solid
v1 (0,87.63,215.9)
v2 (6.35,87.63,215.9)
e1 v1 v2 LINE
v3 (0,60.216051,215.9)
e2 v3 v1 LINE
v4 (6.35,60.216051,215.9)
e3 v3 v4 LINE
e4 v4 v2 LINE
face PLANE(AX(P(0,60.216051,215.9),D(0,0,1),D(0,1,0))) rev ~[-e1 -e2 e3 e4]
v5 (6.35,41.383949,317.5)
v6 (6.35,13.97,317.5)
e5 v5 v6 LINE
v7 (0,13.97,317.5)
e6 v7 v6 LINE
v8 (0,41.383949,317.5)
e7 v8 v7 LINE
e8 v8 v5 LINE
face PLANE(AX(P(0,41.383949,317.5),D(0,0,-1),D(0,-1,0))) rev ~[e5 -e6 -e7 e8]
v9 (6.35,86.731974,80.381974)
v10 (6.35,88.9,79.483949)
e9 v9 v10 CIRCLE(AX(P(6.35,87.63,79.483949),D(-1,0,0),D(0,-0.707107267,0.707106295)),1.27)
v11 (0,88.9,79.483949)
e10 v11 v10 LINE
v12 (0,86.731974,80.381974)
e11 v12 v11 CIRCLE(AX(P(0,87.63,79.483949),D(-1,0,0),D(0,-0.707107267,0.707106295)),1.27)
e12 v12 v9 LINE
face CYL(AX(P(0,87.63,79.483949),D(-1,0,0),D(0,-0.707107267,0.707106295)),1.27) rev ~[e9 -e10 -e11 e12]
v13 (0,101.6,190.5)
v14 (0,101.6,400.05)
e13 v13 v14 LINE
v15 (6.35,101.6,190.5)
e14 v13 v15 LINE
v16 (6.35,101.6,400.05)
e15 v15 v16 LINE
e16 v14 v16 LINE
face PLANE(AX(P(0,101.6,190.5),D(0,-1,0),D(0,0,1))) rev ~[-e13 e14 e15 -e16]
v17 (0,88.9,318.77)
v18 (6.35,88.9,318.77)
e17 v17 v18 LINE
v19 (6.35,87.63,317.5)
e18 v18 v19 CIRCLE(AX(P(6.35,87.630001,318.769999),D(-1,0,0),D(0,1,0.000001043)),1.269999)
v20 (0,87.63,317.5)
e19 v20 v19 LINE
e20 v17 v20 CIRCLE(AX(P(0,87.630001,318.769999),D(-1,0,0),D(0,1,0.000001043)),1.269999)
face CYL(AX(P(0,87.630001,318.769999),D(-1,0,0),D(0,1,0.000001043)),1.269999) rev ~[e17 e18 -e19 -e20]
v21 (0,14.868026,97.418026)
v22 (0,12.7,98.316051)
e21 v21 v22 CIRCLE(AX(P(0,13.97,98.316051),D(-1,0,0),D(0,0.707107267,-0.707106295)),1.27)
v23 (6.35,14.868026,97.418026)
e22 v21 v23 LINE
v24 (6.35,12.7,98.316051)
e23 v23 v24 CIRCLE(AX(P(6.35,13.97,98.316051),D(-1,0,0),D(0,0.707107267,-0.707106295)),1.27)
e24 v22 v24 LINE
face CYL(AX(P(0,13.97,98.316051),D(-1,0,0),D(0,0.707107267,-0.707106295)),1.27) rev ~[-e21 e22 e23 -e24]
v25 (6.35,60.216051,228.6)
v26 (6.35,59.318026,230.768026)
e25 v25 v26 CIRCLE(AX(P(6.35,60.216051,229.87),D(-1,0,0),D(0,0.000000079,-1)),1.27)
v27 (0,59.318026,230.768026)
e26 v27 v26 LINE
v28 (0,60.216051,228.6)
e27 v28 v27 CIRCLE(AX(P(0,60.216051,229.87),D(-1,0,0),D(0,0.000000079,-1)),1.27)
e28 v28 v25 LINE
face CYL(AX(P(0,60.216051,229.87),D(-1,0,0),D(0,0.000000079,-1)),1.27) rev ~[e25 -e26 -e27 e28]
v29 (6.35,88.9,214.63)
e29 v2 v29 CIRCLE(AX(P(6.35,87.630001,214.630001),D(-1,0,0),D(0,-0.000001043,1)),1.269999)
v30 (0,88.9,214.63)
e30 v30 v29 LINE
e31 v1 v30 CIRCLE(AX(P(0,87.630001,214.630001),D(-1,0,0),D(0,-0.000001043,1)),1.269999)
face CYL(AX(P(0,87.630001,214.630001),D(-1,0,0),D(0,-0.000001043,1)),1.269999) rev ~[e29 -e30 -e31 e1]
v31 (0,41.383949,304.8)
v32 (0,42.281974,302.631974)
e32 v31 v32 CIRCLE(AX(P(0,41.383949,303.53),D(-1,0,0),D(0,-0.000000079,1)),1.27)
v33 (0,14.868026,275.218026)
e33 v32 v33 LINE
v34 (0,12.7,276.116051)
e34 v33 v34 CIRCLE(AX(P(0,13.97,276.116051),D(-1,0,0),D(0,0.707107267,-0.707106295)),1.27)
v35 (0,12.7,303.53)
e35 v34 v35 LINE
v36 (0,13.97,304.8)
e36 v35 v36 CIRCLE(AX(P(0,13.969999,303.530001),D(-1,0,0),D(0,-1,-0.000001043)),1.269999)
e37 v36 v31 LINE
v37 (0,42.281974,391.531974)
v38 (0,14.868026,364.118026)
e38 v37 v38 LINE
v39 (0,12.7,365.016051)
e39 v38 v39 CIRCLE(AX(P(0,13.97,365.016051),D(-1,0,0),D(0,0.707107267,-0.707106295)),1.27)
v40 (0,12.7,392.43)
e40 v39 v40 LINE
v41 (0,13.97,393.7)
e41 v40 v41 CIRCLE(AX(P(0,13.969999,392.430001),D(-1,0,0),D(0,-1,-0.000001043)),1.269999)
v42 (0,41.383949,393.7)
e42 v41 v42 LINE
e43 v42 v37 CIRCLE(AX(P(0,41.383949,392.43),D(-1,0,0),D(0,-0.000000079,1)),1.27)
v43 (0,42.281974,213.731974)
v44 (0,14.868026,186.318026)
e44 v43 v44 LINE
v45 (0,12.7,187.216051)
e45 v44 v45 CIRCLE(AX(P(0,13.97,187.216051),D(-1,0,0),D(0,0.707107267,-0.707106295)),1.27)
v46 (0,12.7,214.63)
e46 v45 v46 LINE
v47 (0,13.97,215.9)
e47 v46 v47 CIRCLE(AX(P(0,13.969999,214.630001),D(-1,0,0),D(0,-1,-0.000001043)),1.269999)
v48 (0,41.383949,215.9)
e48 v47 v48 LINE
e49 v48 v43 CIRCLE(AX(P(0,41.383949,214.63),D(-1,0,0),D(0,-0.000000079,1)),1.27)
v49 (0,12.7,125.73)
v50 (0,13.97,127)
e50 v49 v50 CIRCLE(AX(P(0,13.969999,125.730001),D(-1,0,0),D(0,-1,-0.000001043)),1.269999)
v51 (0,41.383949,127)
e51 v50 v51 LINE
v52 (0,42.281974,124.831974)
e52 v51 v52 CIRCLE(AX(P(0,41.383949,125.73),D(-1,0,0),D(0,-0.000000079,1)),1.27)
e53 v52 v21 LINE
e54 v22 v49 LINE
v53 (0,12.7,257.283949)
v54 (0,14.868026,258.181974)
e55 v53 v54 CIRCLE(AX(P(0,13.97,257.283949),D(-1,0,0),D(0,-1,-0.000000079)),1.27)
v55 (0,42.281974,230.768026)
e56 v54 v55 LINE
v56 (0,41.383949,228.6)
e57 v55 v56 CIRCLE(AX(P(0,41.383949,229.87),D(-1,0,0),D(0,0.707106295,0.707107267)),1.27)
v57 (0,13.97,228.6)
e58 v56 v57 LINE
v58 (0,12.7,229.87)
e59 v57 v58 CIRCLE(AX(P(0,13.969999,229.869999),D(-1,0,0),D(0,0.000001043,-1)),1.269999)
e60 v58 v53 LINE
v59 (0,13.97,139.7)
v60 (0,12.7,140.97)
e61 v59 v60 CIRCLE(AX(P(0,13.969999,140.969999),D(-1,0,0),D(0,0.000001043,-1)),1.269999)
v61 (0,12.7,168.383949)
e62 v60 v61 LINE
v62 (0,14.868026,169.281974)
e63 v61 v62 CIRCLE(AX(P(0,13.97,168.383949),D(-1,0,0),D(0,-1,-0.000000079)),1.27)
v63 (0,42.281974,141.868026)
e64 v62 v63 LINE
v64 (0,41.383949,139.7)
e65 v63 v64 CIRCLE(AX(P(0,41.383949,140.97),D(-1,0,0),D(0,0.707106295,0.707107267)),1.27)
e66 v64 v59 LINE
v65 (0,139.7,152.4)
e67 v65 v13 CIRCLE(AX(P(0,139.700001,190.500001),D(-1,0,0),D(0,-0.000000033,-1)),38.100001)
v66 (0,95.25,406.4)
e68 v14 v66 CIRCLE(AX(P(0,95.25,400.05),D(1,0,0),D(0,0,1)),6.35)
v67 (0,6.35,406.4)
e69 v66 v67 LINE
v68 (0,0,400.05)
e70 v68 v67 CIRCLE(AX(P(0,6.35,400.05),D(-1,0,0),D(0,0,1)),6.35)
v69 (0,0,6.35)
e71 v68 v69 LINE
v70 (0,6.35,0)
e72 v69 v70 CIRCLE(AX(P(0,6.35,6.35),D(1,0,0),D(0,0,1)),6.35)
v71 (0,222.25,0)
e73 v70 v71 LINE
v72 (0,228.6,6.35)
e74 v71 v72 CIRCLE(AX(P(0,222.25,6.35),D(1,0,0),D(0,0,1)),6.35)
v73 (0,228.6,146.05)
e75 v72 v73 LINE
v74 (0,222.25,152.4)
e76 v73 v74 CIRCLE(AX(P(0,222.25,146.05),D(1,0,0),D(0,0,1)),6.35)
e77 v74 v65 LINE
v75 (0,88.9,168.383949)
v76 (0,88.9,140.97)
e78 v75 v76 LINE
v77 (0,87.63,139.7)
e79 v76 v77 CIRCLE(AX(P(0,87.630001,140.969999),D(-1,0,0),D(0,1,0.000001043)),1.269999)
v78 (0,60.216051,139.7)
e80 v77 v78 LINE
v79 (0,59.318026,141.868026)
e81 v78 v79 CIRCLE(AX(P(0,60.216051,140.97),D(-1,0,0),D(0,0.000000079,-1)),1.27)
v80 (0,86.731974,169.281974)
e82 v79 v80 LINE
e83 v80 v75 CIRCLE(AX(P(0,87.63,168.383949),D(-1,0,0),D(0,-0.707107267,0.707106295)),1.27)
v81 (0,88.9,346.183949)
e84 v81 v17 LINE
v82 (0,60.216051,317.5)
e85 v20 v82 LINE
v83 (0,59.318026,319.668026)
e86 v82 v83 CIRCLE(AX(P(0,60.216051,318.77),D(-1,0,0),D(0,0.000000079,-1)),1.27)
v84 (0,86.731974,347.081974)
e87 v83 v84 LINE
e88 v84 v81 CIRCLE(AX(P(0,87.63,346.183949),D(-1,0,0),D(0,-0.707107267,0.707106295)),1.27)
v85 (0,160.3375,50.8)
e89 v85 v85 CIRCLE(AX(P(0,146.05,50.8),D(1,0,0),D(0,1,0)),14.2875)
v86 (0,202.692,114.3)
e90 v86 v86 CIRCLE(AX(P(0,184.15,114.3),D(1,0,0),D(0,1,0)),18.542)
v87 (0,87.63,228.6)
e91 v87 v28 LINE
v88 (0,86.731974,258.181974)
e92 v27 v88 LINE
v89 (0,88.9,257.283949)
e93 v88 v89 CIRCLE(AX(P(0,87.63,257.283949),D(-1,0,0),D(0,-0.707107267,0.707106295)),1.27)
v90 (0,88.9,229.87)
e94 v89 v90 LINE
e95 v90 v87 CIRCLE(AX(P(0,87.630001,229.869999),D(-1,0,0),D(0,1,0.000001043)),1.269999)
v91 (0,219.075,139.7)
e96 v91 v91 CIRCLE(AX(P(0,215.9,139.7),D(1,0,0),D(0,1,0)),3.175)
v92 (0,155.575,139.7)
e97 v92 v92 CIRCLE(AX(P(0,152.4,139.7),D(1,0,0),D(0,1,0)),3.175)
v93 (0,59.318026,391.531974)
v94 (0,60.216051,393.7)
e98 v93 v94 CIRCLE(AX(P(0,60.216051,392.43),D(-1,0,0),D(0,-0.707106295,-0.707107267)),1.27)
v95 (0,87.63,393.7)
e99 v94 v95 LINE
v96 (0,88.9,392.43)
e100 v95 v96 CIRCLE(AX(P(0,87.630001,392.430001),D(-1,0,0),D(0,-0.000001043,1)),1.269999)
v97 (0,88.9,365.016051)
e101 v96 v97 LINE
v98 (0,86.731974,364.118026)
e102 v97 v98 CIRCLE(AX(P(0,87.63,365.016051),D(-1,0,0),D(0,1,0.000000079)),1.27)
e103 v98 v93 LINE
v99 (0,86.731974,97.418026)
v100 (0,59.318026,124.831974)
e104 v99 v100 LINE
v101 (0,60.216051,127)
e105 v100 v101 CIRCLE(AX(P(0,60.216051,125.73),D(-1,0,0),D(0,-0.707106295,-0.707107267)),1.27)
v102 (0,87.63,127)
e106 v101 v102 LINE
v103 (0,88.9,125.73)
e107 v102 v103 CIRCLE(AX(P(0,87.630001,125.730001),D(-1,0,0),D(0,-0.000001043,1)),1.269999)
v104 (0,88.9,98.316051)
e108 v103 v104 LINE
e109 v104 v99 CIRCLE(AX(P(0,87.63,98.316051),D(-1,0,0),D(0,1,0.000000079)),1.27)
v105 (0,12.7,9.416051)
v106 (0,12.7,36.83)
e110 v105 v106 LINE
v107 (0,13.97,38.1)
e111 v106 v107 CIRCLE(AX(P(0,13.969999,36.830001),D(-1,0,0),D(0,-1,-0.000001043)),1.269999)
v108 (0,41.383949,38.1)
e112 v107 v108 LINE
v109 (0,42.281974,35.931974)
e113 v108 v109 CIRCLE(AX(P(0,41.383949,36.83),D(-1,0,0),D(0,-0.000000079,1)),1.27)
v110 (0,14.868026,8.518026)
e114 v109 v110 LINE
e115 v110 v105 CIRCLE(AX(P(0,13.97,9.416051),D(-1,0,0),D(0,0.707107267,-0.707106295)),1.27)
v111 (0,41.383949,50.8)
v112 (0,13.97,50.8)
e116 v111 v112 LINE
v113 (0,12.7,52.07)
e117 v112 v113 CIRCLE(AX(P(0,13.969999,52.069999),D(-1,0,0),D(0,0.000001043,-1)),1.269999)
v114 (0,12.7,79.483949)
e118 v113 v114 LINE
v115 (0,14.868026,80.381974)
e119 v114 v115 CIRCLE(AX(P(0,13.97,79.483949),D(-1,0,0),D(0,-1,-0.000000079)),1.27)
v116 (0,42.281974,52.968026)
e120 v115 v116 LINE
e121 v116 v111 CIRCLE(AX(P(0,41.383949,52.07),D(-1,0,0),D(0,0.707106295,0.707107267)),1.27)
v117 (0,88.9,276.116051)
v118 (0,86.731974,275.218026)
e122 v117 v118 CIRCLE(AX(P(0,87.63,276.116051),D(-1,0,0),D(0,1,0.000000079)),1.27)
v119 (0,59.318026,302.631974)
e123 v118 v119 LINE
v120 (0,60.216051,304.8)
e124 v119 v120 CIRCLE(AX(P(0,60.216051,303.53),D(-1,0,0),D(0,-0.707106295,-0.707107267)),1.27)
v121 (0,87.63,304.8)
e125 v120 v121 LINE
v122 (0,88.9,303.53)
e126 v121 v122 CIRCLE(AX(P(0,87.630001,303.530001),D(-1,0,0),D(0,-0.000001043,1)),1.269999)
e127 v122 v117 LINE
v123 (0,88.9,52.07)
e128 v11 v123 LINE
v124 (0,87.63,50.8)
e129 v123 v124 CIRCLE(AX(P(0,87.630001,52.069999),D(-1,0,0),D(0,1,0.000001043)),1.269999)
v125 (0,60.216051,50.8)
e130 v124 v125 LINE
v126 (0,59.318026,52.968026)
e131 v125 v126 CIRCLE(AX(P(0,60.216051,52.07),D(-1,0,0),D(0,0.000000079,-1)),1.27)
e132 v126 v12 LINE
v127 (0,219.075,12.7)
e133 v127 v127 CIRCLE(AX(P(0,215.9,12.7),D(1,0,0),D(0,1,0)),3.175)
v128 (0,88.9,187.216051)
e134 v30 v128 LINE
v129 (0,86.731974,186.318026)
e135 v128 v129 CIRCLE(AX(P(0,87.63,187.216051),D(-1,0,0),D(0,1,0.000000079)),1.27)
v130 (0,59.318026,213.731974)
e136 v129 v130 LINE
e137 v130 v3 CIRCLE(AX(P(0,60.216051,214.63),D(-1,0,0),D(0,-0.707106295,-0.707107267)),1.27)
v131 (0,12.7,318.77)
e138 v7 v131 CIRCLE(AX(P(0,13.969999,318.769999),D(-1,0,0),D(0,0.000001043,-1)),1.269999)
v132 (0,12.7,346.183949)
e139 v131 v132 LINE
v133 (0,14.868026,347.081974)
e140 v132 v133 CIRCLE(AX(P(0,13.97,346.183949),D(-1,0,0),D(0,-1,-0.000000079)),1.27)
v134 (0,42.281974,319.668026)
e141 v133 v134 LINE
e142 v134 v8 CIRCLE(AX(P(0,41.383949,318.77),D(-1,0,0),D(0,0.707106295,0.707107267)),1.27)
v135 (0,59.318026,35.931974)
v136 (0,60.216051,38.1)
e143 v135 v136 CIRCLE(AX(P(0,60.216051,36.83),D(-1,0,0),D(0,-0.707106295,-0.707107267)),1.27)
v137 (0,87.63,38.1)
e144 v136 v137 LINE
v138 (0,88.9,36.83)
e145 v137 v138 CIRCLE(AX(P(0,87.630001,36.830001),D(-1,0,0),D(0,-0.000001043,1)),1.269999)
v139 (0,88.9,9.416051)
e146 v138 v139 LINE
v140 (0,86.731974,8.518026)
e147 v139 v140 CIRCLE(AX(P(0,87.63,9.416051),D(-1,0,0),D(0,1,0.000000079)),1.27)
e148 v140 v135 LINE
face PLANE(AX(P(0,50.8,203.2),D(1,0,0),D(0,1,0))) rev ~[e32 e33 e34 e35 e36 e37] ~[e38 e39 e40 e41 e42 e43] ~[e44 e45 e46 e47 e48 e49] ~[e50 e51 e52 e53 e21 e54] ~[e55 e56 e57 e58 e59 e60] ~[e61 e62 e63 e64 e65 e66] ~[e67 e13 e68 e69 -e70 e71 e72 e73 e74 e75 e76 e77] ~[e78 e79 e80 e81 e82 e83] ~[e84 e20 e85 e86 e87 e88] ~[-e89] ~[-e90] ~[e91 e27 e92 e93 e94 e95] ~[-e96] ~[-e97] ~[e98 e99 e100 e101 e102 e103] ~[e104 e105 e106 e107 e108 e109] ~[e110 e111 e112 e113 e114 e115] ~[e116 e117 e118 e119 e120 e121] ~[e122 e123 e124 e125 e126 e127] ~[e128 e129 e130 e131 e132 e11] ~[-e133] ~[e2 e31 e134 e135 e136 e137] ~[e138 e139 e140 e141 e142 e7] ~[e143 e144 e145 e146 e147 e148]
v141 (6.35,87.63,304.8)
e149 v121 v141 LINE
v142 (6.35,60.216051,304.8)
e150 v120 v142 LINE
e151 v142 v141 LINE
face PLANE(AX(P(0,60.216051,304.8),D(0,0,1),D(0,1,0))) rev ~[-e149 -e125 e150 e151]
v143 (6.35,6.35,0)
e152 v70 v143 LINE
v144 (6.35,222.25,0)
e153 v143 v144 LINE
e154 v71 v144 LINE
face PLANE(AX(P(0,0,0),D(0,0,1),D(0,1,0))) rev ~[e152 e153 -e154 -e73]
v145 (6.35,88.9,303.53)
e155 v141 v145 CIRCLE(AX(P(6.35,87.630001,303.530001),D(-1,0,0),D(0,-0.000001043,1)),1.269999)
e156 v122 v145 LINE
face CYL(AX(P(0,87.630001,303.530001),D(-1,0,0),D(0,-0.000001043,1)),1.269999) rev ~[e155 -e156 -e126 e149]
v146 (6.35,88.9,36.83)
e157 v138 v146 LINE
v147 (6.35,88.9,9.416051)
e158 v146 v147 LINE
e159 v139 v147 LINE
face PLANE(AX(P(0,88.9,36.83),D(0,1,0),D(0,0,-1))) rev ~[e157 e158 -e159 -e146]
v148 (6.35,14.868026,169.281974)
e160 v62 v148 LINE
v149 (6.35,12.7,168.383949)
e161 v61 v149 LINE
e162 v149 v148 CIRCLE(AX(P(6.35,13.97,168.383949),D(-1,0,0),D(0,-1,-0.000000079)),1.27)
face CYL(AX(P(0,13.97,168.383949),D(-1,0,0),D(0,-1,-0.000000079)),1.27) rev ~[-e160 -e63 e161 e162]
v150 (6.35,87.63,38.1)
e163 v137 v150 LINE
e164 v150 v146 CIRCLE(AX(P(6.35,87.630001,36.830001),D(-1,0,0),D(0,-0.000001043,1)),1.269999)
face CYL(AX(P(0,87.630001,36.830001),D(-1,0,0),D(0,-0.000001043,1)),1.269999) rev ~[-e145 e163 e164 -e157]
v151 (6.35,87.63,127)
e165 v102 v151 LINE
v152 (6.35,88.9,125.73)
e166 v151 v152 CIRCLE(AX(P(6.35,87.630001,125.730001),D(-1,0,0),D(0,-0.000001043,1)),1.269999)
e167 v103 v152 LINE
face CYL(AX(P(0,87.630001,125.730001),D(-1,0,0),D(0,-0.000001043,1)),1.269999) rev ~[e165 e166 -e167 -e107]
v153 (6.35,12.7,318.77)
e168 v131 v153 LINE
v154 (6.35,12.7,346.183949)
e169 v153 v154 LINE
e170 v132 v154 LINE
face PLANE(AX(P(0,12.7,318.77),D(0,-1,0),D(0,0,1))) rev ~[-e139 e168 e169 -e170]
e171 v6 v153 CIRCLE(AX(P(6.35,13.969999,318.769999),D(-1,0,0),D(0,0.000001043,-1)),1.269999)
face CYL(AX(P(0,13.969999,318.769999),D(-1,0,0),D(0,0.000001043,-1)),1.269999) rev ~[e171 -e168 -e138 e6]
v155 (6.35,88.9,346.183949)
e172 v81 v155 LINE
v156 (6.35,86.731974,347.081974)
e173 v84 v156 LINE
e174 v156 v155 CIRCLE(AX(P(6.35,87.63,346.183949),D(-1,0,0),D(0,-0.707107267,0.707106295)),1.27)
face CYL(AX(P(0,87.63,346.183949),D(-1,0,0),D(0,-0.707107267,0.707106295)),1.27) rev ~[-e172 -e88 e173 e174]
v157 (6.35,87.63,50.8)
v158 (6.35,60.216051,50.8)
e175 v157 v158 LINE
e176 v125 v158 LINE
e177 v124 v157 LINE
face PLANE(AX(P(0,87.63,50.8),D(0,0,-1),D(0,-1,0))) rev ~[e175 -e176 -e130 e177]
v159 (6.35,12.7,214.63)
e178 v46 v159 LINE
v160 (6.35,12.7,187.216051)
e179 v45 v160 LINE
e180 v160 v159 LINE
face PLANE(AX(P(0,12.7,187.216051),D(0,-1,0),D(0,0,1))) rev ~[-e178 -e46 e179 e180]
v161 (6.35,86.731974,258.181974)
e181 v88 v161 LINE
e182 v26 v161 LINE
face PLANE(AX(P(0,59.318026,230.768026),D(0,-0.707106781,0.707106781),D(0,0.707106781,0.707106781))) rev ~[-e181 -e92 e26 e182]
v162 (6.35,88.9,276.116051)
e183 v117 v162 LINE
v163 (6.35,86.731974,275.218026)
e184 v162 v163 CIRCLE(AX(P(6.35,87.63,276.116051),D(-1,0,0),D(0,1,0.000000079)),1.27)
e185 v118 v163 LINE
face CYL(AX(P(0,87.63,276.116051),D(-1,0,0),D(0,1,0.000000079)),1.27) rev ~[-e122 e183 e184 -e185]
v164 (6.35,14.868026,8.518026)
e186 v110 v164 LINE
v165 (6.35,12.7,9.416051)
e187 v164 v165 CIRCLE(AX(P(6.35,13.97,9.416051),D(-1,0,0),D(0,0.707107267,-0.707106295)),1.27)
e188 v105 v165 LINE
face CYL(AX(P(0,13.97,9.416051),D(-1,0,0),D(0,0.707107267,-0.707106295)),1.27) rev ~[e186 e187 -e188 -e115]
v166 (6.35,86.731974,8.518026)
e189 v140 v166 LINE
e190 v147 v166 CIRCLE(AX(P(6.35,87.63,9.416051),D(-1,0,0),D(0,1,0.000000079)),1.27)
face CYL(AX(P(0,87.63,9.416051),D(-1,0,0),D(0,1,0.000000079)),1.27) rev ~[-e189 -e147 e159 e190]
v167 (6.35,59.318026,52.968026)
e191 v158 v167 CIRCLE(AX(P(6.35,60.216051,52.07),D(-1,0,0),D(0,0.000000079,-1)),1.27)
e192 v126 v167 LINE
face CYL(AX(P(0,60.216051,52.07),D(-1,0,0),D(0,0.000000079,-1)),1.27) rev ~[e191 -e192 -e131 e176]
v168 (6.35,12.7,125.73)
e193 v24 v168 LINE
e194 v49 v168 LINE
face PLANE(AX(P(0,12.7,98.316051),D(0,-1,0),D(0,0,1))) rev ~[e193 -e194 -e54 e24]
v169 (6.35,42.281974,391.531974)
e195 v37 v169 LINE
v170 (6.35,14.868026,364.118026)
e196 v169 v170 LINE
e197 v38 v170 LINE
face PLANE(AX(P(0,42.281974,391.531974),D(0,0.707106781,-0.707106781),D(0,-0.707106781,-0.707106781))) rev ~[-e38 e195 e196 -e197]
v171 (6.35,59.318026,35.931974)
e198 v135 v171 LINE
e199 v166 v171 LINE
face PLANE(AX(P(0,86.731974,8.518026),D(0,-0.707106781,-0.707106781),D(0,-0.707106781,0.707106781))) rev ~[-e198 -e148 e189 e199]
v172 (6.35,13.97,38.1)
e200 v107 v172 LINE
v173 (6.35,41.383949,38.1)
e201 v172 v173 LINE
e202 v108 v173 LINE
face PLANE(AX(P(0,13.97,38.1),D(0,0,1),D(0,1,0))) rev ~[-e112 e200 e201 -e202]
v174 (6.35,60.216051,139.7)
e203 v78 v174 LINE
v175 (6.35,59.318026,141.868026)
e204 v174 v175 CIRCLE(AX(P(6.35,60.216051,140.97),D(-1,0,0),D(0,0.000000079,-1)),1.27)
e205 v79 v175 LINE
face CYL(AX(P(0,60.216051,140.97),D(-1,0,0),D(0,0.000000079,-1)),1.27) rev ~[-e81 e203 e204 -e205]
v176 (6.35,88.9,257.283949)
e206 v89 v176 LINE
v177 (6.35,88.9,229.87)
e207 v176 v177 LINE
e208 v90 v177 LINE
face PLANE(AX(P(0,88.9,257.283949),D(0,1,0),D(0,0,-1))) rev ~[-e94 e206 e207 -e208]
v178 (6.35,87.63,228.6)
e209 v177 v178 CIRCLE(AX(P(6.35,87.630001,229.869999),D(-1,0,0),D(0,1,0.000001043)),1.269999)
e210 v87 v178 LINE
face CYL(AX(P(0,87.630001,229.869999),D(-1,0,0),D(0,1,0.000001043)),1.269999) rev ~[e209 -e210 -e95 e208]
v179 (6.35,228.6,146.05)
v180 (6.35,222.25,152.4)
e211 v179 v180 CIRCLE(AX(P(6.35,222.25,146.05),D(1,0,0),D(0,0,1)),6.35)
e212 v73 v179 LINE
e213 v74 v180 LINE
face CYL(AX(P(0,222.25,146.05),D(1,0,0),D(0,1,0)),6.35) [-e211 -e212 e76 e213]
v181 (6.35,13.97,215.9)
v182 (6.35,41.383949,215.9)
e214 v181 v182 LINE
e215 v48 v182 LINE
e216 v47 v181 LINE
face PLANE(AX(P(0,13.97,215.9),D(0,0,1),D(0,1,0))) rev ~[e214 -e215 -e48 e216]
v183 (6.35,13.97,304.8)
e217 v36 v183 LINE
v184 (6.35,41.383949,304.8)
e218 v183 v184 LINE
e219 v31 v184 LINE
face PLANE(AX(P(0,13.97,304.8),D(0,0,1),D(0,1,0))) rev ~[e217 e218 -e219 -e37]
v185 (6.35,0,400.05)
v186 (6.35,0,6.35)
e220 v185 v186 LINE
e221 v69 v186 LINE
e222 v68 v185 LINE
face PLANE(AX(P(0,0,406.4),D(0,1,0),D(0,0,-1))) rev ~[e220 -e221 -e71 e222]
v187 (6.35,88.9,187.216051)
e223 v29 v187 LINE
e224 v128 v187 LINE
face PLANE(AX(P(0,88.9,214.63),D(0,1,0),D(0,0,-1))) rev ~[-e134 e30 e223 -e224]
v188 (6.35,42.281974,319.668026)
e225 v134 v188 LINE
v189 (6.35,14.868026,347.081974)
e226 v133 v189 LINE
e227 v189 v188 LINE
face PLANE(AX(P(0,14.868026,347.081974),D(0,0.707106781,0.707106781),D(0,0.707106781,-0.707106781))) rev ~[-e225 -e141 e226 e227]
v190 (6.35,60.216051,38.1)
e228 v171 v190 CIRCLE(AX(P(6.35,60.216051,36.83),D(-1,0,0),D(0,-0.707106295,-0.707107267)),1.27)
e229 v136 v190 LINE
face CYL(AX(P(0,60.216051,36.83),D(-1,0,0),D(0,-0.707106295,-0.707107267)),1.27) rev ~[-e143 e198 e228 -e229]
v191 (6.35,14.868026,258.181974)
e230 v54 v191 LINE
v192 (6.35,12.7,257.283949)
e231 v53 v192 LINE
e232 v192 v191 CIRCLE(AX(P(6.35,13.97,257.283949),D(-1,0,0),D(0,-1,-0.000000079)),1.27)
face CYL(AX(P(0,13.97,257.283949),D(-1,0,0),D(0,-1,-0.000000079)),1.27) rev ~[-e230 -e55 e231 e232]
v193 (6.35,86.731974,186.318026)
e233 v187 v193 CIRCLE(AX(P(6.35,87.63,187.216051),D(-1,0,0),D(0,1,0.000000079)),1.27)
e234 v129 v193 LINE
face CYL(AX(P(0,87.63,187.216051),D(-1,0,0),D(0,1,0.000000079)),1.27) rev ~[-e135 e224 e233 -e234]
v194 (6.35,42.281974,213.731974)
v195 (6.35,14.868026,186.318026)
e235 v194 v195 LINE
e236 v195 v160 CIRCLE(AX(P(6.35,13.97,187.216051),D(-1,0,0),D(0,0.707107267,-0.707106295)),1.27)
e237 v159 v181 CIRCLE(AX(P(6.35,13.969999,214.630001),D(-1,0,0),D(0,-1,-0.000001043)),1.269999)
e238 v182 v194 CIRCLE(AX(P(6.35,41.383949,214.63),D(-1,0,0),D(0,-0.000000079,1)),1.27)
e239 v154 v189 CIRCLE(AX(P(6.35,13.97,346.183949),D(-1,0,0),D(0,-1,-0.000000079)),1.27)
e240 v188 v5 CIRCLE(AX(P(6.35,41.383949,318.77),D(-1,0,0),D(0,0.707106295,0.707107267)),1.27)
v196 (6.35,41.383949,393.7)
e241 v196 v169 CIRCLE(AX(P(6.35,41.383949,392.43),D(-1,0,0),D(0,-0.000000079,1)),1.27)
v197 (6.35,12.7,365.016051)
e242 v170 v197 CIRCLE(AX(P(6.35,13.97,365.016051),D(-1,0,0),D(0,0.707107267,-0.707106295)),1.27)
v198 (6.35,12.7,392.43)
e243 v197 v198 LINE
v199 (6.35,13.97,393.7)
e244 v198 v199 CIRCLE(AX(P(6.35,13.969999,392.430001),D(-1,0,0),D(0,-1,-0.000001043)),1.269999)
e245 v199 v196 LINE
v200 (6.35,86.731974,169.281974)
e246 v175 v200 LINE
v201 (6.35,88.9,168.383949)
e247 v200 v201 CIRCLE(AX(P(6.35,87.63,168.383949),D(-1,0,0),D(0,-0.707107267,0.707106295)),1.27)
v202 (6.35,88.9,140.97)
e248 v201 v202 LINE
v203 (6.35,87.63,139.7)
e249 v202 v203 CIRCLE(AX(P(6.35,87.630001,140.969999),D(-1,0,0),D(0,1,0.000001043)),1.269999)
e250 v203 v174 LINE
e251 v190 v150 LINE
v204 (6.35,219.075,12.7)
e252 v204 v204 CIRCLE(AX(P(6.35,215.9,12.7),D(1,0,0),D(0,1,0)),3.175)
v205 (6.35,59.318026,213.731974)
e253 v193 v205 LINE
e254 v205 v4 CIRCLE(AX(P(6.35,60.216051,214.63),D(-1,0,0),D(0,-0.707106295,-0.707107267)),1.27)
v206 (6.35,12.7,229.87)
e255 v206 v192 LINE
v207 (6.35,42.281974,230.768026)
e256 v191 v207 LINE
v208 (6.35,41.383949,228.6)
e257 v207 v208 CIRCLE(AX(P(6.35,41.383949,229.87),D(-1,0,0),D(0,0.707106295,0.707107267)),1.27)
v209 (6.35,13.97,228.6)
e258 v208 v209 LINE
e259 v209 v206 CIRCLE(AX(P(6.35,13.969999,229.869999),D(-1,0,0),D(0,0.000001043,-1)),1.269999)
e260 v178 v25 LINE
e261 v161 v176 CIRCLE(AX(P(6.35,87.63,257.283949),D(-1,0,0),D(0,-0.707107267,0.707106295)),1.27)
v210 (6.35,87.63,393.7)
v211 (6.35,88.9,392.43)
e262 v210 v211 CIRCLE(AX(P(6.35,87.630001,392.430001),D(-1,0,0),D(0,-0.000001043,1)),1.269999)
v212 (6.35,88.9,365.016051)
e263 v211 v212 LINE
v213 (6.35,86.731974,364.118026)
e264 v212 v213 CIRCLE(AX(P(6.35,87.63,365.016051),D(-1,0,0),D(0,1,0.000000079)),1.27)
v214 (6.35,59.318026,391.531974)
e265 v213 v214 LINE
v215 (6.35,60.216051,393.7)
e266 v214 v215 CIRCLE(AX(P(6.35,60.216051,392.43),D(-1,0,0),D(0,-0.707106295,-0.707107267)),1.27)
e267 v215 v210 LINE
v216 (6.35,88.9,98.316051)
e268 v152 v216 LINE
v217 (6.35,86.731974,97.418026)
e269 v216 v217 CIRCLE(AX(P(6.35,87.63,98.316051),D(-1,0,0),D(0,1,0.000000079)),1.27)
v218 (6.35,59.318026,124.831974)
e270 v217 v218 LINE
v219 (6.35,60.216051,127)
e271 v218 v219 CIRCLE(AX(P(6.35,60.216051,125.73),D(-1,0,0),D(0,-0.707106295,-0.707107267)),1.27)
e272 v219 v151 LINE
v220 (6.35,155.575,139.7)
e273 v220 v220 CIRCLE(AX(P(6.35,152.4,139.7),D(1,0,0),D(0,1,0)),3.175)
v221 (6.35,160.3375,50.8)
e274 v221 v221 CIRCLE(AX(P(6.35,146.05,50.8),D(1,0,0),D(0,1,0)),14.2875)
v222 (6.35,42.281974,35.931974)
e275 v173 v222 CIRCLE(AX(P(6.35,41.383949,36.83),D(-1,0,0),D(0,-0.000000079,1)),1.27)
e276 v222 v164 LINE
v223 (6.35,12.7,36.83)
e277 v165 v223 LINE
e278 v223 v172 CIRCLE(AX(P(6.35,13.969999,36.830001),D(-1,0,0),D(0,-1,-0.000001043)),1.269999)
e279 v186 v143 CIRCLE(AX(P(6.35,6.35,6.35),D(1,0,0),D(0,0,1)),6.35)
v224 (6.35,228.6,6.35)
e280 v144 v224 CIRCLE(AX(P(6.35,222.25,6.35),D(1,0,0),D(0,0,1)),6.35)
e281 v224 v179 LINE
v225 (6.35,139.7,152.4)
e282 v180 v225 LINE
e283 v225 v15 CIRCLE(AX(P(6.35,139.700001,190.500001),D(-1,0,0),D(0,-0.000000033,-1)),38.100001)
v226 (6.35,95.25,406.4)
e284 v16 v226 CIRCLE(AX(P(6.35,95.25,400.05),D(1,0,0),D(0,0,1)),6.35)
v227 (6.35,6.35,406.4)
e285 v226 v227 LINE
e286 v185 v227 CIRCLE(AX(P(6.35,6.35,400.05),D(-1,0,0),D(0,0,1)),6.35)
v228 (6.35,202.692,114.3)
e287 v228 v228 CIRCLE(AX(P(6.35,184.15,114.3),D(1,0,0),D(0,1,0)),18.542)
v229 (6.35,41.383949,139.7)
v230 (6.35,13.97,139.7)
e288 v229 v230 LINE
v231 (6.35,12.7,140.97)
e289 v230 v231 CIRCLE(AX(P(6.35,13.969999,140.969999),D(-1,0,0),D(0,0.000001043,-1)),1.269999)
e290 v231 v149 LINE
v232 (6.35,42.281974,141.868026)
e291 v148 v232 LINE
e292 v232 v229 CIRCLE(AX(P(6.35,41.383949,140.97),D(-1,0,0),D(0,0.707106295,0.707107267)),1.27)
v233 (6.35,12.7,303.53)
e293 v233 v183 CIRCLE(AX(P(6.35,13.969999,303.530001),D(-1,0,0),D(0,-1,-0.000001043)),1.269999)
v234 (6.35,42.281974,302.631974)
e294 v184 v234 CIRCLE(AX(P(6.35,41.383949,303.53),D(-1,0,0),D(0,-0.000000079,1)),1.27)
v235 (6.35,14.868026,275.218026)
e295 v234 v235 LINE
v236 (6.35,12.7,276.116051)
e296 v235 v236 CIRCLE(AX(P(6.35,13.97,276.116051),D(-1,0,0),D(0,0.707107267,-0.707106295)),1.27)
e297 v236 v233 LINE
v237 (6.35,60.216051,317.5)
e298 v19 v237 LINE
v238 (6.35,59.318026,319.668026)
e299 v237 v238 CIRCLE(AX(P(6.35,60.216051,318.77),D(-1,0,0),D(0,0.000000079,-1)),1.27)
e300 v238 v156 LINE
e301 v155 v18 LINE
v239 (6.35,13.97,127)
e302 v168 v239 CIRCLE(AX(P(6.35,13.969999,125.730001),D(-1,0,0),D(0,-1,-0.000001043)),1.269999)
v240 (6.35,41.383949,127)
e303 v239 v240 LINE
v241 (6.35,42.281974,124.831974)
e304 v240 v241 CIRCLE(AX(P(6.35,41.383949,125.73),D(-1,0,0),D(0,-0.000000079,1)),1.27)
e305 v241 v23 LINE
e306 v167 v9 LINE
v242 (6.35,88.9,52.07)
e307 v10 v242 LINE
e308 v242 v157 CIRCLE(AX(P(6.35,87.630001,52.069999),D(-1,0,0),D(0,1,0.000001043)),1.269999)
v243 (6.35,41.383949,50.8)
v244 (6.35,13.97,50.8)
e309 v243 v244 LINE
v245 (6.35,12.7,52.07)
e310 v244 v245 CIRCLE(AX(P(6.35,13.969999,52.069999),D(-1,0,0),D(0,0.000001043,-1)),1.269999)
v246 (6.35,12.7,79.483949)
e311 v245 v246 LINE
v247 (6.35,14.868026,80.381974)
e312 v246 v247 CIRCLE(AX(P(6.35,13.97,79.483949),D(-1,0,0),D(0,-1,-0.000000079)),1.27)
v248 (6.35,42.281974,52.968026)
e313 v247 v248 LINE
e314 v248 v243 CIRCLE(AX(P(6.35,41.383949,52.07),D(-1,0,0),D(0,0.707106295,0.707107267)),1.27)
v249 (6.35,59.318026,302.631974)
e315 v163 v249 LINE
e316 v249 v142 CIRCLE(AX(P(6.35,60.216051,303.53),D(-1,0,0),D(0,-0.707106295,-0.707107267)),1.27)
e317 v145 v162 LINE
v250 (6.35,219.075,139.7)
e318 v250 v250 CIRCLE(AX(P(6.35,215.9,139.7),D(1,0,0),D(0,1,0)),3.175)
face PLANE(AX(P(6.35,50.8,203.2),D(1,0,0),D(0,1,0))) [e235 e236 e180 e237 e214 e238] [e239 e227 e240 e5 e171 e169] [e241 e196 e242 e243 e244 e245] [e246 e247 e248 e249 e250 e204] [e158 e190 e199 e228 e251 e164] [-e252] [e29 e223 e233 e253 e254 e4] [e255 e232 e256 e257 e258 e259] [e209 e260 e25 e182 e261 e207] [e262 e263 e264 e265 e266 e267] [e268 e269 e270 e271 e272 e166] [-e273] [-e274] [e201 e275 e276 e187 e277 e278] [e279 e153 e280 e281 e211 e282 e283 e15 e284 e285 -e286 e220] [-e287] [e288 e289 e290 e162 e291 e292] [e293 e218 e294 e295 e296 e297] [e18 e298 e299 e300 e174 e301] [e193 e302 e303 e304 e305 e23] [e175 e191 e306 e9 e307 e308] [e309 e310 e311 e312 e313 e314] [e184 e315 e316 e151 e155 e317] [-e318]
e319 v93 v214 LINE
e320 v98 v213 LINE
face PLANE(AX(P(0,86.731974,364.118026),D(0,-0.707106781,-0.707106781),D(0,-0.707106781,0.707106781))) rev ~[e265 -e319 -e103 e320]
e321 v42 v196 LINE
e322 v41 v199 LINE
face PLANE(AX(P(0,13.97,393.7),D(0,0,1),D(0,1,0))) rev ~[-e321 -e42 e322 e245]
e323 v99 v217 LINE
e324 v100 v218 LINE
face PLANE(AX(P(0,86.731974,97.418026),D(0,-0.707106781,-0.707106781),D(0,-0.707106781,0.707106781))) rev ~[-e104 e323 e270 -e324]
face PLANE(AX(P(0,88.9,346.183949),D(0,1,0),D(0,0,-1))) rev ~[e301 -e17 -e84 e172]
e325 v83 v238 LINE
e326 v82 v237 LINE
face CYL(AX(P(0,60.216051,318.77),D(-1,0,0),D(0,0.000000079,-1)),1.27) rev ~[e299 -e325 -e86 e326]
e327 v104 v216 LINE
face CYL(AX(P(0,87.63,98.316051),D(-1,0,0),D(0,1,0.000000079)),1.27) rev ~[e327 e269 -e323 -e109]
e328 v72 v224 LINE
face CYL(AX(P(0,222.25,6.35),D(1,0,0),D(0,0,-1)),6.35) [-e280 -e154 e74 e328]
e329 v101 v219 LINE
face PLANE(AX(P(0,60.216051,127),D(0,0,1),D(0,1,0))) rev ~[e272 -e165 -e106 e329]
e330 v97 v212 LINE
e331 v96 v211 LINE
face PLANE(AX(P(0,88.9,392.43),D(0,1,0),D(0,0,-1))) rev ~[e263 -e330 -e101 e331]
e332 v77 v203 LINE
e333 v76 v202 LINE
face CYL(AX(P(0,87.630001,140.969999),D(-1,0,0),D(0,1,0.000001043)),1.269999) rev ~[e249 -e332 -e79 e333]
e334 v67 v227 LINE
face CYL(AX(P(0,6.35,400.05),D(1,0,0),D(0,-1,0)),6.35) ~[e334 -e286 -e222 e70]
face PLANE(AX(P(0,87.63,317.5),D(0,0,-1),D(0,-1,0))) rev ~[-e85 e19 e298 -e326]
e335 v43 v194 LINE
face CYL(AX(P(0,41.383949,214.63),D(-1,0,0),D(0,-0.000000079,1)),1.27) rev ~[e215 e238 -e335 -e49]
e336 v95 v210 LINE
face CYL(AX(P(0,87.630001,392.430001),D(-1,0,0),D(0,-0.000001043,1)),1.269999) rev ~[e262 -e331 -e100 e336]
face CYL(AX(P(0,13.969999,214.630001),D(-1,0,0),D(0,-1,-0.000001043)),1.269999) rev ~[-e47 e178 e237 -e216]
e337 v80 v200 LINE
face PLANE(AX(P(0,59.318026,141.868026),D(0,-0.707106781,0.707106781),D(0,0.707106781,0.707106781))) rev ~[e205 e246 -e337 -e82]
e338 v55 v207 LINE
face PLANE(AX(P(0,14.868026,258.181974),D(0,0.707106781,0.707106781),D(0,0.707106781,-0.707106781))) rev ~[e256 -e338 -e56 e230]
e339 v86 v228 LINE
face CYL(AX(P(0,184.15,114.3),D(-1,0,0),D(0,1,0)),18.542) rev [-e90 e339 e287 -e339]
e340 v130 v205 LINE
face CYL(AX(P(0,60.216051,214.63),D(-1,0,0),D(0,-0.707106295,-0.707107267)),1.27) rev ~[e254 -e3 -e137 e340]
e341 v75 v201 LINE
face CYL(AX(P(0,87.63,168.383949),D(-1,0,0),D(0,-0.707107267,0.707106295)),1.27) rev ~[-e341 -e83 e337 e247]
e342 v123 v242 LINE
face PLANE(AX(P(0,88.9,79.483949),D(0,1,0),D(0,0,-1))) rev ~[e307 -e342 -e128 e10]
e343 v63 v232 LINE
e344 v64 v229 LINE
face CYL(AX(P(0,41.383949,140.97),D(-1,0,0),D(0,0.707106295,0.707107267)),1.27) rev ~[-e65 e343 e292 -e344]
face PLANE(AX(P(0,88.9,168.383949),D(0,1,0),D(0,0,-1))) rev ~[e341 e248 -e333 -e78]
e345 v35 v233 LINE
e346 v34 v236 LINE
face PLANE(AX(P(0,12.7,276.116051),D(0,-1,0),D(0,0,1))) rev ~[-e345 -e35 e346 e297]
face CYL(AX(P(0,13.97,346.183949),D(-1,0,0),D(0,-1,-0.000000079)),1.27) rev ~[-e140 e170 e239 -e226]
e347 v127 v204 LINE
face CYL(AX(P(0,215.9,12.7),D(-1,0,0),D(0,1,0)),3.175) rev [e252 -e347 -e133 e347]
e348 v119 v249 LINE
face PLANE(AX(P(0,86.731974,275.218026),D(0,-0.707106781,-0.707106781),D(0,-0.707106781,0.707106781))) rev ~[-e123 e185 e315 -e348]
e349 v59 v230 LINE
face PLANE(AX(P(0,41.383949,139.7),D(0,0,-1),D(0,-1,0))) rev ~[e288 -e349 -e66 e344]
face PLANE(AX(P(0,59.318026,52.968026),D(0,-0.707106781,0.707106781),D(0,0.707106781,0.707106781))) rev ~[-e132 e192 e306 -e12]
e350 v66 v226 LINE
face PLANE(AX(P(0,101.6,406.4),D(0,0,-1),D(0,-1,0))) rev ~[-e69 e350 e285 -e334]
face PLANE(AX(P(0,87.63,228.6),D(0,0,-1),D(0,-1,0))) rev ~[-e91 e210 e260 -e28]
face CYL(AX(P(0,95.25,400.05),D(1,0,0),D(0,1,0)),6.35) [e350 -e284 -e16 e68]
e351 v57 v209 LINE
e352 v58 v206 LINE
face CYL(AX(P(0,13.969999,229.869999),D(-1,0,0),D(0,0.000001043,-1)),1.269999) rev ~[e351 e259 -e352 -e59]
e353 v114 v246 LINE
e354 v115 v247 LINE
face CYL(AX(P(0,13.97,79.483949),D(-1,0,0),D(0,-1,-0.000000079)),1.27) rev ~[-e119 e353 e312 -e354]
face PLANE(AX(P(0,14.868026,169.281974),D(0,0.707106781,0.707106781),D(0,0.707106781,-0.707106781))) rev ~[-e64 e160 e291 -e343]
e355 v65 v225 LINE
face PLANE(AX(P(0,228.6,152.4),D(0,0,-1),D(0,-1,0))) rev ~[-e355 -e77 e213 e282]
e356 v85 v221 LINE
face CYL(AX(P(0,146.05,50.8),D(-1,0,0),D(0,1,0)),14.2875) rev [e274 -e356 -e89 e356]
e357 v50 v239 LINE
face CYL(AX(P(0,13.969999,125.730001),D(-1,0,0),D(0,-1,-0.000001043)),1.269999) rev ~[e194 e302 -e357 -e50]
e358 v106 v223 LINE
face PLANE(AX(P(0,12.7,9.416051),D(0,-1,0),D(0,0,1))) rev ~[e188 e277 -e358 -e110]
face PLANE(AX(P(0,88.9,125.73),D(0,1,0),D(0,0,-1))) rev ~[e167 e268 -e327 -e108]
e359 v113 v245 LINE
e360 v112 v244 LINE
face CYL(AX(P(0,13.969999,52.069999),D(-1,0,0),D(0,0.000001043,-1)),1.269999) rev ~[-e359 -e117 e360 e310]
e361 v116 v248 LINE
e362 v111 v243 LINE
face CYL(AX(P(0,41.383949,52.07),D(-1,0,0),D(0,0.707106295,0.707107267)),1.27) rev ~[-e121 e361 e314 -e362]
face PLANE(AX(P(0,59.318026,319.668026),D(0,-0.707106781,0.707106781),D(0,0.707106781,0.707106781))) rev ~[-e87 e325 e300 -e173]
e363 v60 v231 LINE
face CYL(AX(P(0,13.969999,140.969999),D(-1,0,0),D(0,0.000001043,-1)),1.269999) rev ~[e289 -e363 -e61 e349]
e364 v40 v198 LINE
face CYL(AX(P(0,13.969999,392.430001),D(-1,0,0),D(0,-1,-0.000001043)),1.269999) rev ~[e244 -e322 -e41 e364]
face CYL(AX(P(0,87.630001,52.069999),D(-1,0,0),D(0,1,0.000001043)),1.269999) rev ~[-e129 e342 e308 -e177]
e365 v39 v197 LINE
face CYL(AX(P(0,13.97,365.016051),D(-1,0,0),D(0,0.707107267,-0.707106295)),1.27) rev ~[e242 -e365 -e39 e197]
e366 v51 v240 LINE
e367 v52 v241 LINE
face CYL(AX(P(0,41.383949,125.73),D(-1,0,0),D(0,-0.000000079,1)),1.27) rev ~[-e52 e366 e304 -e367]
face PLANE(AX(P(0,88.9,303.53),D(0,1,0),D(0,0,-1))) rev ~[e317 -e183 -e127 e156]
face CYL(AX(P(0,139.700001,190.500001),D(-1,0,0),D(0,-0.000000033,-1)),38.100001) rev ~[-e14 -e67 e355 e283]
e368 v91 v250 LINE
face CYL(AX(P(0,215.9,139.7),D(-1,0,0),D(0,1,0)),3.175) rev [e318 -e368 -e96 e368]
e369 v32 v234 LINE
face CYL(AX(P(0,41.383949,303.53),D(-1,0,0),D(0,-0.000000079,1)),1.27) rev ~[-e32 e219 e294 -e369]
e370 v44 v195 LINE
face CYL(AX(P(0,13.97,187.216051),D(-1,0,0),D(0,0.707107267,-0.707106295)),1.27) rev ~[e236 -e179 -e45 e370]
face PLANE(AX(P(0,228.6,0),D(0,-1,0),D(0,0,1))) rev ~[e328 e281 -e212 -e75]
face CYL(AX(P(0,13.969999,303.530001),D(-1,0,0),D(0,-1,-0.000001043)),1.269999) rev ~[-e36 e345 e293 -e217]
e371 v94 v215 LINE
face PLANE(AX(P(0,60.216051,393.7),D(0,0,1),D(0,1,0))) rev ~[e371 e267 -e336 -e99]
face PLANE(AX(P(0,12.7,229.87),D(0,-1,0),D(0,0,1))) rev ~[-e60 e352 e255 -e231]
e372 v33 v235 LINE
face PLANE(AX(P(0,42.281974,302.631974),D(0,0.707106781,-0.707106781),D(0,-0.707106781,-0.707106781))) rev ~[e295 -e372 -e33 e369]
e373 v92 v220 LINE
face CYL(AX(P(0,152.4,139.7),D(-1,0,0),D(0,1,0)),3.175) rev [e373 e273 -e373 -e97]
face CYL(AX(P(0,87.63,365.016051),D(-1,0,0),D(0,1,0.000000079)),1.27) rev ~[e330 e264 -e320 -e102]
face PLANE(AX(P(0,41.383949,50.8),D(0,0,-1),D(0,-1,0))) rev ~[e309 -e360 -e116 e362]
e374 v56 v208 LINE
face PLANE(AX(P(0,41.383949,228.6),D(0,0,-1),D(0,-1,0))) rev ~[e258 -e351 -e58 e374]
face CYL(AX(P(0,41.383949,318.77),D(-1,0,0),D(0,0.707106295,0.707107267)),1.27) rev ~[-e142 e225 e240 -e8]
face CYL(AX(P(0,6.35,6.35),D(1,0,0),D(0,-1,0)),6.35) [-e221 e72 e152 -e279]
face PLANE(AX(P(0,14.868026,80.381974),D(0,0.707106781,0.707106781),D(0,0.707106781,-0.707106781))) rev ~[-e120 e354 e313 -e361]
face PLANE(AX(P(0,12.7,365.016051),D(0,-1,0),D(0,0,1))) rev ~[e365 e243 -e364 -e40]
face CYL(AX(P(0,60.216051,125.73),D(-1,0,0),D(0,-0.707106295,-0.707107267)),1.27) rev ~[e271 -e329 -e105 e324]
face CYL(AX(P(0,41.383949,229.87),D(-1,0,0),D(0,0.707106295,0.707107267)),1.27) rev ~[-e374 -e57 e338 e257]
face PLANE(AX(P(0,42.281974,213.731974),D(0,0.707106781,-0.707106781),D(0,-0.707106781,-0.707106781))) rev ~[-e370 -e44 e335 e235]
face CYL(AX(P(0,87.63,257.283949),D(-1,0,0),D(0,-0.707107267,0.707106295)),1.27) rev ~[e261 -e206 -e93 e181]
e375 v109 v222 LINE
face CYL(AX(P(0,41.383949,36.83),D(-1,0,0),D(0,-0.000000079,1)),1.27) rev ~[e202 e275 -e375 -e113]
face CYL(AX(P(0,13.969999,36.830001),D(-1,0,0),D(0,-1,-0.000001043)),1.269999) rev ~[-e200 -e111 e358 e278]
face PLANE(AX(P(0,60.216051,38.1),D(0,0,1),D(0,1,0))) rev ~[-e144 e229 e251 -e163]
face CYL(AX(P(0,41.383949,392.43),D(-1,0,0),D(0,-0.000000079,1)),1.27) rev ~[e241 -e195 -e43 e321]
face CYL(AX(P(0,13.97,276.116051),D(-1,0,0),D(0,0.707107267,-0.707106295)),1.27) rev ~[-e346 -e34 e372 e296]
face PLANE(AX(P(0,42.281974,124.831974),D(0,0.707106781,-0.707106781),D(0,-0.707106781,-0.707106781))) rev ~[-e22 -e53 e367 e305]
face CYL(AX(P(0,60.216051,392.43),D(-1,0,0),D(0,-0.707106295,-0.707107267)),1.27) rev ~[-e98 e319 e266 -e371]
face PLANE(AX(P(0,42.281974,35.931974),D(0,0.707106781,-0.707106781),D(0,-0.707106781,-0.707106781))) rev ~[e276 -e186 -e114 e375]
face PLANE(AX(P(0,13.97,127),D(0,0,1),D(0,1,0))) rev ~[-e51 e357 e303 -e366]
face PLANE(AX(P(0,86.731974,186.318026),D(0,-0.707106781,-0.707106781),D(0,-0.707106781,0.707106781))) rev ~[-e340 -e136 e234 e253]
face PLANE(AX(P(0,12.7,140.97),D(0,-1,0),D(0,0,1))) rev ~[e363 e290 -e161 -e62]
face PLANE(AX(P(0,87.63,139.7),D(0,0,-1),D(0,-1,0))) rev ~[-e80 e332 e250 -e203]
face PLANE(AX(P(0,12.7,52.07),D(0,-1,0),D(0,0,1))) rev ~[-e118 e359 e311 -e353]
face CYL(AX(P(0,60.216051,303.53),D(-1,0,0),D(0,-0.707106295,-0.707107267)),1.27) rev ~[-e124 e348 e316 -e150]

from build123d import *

# Parameters (mm, degrees)
F0_R     = 14.2875
F0_R_2   = 3.175
F0_R_3   = 18.542
F1_DEPTH = 6.35
F2_R     = 6.35


with BuildPart() as f1:
    # F0 (on Right) → F1 (new body)
    with BuildSketch(Plane.YZ):
        Polygon((0, 406.4), (0, 0), (101.6, 0), (101.6, 152.4), (101.6, 190.5), (101.6, 406.4), align=None)
        with BuildLine():
            ThreePointArc((14.868026, 8.518026), (13.483992, 8.242724), (12.7, 9.416051))
            Line((12.7, 9.416051), (12.7, 36.83))
            ThreePointArc((12.7, 36.83), (13.071974, 37.728026), (13.97, 38.1))
            Line((13.97, 38.1), (41.383949, 38.1))
            ThreePointArc((41.383949, 38.1), (42.557276, 37.316008), (42.281974, 35.931974))
            Line((42.281974, 35.931974), (14.868026, 8.518026))
        make_face(mode=Mode.SUBTRACT)
        with BuildLine():
            Line((41.383949, 50.8), (13.97, 50.8))
            ThreePointArc((13.97, 50.8), (13.071974, 51.171974), (12.7, 52.07))
            Line((12.7, 52.07), (12.7, 79.483949))
            ThreePointArc((12.7, 79.483949), (13.483992, 80.657276), (14.868026, 80.381974))
            Line((14.868026, 80.381974), (42.281974, 52.968026))
            ThreePointArc((42.281974, 52.968026), (42.557276, 51.583992), (41.383949, 50.8))
        make_face(mode=Mode.SUBTRACT)
        with BuildLine():
            Line((88.9, 36.83), (88.9, 9.416051))
            ThreePointArc((88.9, 9.416051), (88.116008, 8.242724), (86.731974, 8.518026))
            Line((86.731974, 8.518026), (59.318026, 35.931974))
            ThreePointArc((59.318026, 35.931974), (59.042724, 37.316008), (60.216051, 38.1))
            Line((60.216051, 38.1), (87.63, 38.1))
            ThreePointArc((87.63, 38.1), (88.528026, 37.728026), (88.9, 36.83))
        make_face(mode=Mode.SUBTRACT)
        with BuildLine():
            ThreePointArc((60.216051, 50.8), (59.042724, 51.583992), (59.318026, 52.968026))
            Line((59.318026, 52.968026), (86.731974, 80.381974))
            ThreePointArc((86.731974, 80.381974), (88.116008, 80.657276), (88.9, 79.483949))
            Line((88.9, 79.483949), (88.9, 52.07))
            ThreePointArc((88.9, 52.07), (88.528026, 51.171974), (87.63, 50.8))
            Line((87.63, 50.8), (60.216051, 50.8))
        make_face(mode=Mode.SUBTRACT)
        with BuildLine():
            ThreePointArc((14.868026, 97.418026), (13.483992, 97.142724), (12.7, 98.316051))
            Line((12.7, 98.316051), (12.7, 125.73))
            ThreePointArc((12.7, 125.73), (13.071974, 126.628026), (13.97, 127))
            Line((13.97, 127), (41.383949, 127))
            ThreePointArc((41.383949, 127), (42.557276, 126.216008), (42.281974, 124.831974))
            Line((42.281974, 124.831974), (14.868026, 97.418026))
        make_face(mode=Mode.SUBTRACT)
        with BuildLine():
            Line((41.383949, 139.7), (13.97, 139.7))
            ThreePointArc((13.97, 139.7), (13.071974, 140.071974), (12.7, 140.97))
            Line((12.7, 140.97), (12.7, 168.383949))
            ThreePointArc((12.7, 168.383949), (13.483992, 169.557276), (14.868026, 169.281974))
            Line((14.868026, 169.281974), (42.281974, 141.868026))
            ThreePointArc((42.281974, 141.868026), (42.557276, 140.483992), (41.383949, 139.7))
        make_face(mode=Mode.SUBTRACT)
        with BuildLine():
            ThreePointArc((14.868026, 186.318026), (13.483992, 186.042724), (12.7, 187.216051))
            Line((12.7, 187.216051), (12.7, 214.63))
            ThreePointArc((12.7, 214.63), (13.071974, 215.528026), (13.97, 215.9))
            Line((13.97, 215.9), (41.383949, 215.9))
            ThreePointArc((41.383949, 215.9), (42.557276, 215.116008), (42.281974, 213.731974))
            Line((42.281974, 213.731974), (14.868026, 186.318026))
        make_face(mode=Mode.SUBTRACT)
        with BuildLine():
            Line((88.9, 125.73), (88.9, 98.316051))
            ThreePointArc((88.9, 98.316051), (88.116008, 97.142724), (86.731974, 97.418026))
            Line((86.731974, 97.418026), (59.318026, 124.831974))
            ThreePointArc((59.318026, 124.831974), (59.042724, 126.216008), (60.216051, 127))
            Line((60.216051, 127), (87.63, 127))
            ThreePointArc((87.63, 127), (88.528026, 126.628026), (88.9, 125.73))
        make_face(mode=Mode.SUBTRACT)
        with BuildLine():
            ThreePointArc((60.216051, 139.7), (59.042724, 140.483992), (59.318026, 141.868026))
            Line((59.318026, 141.868026), (86.731974, 169.281974))
            ThreePointArc((86.731974, 169.281974), (88.116008, 169.557276), (88.9, 168.383949))
            Line((88.9, 168.383949), (88.9, 140.97))
            ThreePointArc((88.9, 140.97), (88.528026, 140.071974), (87.63, 139.7))
            Line((87.63, 139.7), (60.216051, 139.7))
        make_face(mode=Mode.SUBTRACT)
        with BuildLine():
            Line((88.9, 214.63), (88.9, 187.216051))
            ThreePointArc((88.9, 187.216051), (88.116008, 186.042724), (86.731974, 186.318026))
            Line((86.731974, 186.318026), (59.318026, 213.731974))
            ThreePointArc((59.318026, 213.731974), (59.042724, 215.116008), (60.216051, 215.9))
            Line((60.216051, 215.9), (87.63, 215.9))
            ThreePointArc((87.63, 215.9), (88.528026, 215.528026), (88.9, 214.63))
        make_face(mode=Mode.SUBTRACT)
        with BuildLine():
            Line((41.383949, 228.6), (13.97, 228.6))
            ThreePointArc((13.97, 228.6), (13.071974, 228.971974), (12.7, 229.87))
            Line((12.7, 229.87), (12.7, 257.283949))
            ThreePointArc((12.7, 257.283949), (13.483992, 258.457276), (14.868026, 258.181974))
            Line((14.868026, 258.181974), (42.281974, 230.768026))
            ThreePointArc((42.281974, 230.768026), (42.557276, 229.383992), (41.383949, 228.6))
        make_face(mode=Mode.SUBTRACT)
        with BuildLine():
            ThreePointArc((14.868026, 275.218026), (13.483992, 274.942724), (12.7, 276.116051))
            Line((12.7, 276.116051), (12.7, 303.53))
            ThreePointArc((12.7, 303.53), (13.071974, 304.428026), (13.97, 304.8))
            Line((13.97, 304.8), (41.383949, 304.8))
            ThreePointArc((41.383949, 304.8), (42.557276, 304.016008), (42.281974, 302.631974))
            Line((42.281974, 302.631974), (14.868026, 275.218026))
        make_face(mode=Mode.SUBTRACT)
        with BuildLine():
            ThreePointArc((60.216051, 228.6), (59.042724, 229.383992), (59.318026, 230.768026))
            Line((59.318026, 230.768026), (86.731974, 258.181974))
            ThreePointArc((86.731974, 258.181974), (88.116008, 258.457276), (88.9, 257.283949))
            Line((88.9, 257.283949), (88.9, 229.87))
            ThreePointArc((88.9, 229.87), (88.528026, 228.971974), (87.63, 228.6))
            Line((87.63, 228.6), (60.216051, 228.6))
        make_face(mode=Mode.SUBTRACT)
        with BuildLine():
            Line((88.9, 303.53), (88.9, 276.116051))
            ThreePointArc((88.9, 276.116051), (88.116008, 274.942724), (86.731974, 275.218026))
            Line((86.731974, 275.218026), (59.318026, 302.631974))
            ThreePointArc((59.318026, 302.631974), (59.042724, 304.016008), (60.216051, 304.8))
            Line((60.216051, 304.8), (87.63, 304.8))
            ThreePointArc((87.63, 304.8), (88.528026, 304.428026), (88.9, 303.53))
        make_face(mode=Mode.SUBTRACT)
        with BuildLine():
            ThreePointArc((13.97, 317.5), (13.071974, 317.871974), (12.7, 318.77))
            Line((12.7, 318.77), (12.7, 346.183949))
            ThreePointArc((12.7, 346.183949), (13.483992, 347.357276), (14.868026, 347.081974))
            Line((14.868026, 347.081974), (42.281974, 319.668026))
            ThreePointArc((42.281974, 319.668026), (42.557276, 318.283992), (41.383949, 317.5))
            Line((41.383949, 317.5), (13.97, 317.5))
        make_face(mode=Mode.SUBTRACT)
        with BuildLine():
            Line((12.7, 365.016051), (12.7, 392.43))
            ThreePointArc((12.7, 392.43), (13.071974, 393.328026), (13.97, 393.7))
            Line((13.97, 393.7), (41.383949, 393.7))
            ThreePointArc((41.383949, 393.7), (42.557276, 392.916008), (42.281974, 391.531974))
            Line((42.281974, 391.531974), (14.868026, 364.118026))
            ThreePointArc((14.868026, 364.118026), (13.483992, 363.842724), (12.7, 365.016051))
        make_face(mode=Mode.SUBTRACT)
        with BuildLine():
            Line((87.63, 317.5), (60.216051, 317.5))
            ThreePointArc((60.216051, 317.5), (59.042724, 318.283992), (59.318026, 319.668026))
            Line((59.318026, 319.668026), (86.731974, 347.081974))
            ThreePointArc((86.731974, 347.081974), (88.116008, 347.357276), (88.9, 346.183949))
            Line((88.9, 346.183949), (88.9, 318.77))
            ThreePointArc((88.9, 318.77), (88.528026, 317.871974), (87.63, 317.5))
        make_face(mode=Mode.SUBTRACT)
        with BuildLine():
            Line((60.216051, 393.7), (87.63, 393.7))
            ThreePointArc((87.63, 393.7), (88.528026, 393.328026), (88.9, 392.43))
            Line((88.9, 392.43), (88.9, 365.016051))
            ThreePointArc((88.9, 365.016051), (88.116008, 363.842724), (86.731974, 364.118026))
            Line((86.731974, 364.118026), (59.318026, 391.531974))
            ThreePointArc((59.318026, 391.531974), (59.042724, 392.916008), (60.216051, 393.7))
        make_face(mode=Mode.SUBTRACT)
        Polygon((101.6, 152.4), (101.6, 0), (228.6, 0), (228.6, 152.4), (139.7, 152.4), align=None)
        with Locations((146.05, 50.8)):
            Circle(F0_R, mode=Mode.SUBTRACT)
        with Locations((215.9, 12.7)):
            Circle(F0_R_2, mode=Mode.SUBTRACT)
        with Locations((152.4, 139.7)):
            Circle(F0_R_2, mode=Mode.SUBTRACT)
        with Locations((184.15, 114.3)):
            Circle(F0_R_3, mode=Mode.SUBTRACT)
        with Locations((215.9, 139.7)):
            Circle(F0_R_2, mode=Mode.SUBTRACT)
        with BuildLine():
            Line((101.6, 190.5), (101.6, 152.4))
            Line((101.6, 152.4), (139.7, 152.4))
            ThreePointArc((139.7, 152.4), (112.759232, 163.559232), (101.6, 190.5))
        make_face()
    extrude(amount=F1_DEPTH)

    # F2
    f2_edges = [f1.edges().sort_by_distance(p)[0] for p in [
        (3.175, 228.6, 0),
        (3.175, 228.6, 152.4),
        (3.175, 0, 0),
        (3.175, 0, 406.4),
        (3.175, 101.6, 406.4),
    ]]
    fillet(f2_edges, radius=F2_R)


solid = f1.part
